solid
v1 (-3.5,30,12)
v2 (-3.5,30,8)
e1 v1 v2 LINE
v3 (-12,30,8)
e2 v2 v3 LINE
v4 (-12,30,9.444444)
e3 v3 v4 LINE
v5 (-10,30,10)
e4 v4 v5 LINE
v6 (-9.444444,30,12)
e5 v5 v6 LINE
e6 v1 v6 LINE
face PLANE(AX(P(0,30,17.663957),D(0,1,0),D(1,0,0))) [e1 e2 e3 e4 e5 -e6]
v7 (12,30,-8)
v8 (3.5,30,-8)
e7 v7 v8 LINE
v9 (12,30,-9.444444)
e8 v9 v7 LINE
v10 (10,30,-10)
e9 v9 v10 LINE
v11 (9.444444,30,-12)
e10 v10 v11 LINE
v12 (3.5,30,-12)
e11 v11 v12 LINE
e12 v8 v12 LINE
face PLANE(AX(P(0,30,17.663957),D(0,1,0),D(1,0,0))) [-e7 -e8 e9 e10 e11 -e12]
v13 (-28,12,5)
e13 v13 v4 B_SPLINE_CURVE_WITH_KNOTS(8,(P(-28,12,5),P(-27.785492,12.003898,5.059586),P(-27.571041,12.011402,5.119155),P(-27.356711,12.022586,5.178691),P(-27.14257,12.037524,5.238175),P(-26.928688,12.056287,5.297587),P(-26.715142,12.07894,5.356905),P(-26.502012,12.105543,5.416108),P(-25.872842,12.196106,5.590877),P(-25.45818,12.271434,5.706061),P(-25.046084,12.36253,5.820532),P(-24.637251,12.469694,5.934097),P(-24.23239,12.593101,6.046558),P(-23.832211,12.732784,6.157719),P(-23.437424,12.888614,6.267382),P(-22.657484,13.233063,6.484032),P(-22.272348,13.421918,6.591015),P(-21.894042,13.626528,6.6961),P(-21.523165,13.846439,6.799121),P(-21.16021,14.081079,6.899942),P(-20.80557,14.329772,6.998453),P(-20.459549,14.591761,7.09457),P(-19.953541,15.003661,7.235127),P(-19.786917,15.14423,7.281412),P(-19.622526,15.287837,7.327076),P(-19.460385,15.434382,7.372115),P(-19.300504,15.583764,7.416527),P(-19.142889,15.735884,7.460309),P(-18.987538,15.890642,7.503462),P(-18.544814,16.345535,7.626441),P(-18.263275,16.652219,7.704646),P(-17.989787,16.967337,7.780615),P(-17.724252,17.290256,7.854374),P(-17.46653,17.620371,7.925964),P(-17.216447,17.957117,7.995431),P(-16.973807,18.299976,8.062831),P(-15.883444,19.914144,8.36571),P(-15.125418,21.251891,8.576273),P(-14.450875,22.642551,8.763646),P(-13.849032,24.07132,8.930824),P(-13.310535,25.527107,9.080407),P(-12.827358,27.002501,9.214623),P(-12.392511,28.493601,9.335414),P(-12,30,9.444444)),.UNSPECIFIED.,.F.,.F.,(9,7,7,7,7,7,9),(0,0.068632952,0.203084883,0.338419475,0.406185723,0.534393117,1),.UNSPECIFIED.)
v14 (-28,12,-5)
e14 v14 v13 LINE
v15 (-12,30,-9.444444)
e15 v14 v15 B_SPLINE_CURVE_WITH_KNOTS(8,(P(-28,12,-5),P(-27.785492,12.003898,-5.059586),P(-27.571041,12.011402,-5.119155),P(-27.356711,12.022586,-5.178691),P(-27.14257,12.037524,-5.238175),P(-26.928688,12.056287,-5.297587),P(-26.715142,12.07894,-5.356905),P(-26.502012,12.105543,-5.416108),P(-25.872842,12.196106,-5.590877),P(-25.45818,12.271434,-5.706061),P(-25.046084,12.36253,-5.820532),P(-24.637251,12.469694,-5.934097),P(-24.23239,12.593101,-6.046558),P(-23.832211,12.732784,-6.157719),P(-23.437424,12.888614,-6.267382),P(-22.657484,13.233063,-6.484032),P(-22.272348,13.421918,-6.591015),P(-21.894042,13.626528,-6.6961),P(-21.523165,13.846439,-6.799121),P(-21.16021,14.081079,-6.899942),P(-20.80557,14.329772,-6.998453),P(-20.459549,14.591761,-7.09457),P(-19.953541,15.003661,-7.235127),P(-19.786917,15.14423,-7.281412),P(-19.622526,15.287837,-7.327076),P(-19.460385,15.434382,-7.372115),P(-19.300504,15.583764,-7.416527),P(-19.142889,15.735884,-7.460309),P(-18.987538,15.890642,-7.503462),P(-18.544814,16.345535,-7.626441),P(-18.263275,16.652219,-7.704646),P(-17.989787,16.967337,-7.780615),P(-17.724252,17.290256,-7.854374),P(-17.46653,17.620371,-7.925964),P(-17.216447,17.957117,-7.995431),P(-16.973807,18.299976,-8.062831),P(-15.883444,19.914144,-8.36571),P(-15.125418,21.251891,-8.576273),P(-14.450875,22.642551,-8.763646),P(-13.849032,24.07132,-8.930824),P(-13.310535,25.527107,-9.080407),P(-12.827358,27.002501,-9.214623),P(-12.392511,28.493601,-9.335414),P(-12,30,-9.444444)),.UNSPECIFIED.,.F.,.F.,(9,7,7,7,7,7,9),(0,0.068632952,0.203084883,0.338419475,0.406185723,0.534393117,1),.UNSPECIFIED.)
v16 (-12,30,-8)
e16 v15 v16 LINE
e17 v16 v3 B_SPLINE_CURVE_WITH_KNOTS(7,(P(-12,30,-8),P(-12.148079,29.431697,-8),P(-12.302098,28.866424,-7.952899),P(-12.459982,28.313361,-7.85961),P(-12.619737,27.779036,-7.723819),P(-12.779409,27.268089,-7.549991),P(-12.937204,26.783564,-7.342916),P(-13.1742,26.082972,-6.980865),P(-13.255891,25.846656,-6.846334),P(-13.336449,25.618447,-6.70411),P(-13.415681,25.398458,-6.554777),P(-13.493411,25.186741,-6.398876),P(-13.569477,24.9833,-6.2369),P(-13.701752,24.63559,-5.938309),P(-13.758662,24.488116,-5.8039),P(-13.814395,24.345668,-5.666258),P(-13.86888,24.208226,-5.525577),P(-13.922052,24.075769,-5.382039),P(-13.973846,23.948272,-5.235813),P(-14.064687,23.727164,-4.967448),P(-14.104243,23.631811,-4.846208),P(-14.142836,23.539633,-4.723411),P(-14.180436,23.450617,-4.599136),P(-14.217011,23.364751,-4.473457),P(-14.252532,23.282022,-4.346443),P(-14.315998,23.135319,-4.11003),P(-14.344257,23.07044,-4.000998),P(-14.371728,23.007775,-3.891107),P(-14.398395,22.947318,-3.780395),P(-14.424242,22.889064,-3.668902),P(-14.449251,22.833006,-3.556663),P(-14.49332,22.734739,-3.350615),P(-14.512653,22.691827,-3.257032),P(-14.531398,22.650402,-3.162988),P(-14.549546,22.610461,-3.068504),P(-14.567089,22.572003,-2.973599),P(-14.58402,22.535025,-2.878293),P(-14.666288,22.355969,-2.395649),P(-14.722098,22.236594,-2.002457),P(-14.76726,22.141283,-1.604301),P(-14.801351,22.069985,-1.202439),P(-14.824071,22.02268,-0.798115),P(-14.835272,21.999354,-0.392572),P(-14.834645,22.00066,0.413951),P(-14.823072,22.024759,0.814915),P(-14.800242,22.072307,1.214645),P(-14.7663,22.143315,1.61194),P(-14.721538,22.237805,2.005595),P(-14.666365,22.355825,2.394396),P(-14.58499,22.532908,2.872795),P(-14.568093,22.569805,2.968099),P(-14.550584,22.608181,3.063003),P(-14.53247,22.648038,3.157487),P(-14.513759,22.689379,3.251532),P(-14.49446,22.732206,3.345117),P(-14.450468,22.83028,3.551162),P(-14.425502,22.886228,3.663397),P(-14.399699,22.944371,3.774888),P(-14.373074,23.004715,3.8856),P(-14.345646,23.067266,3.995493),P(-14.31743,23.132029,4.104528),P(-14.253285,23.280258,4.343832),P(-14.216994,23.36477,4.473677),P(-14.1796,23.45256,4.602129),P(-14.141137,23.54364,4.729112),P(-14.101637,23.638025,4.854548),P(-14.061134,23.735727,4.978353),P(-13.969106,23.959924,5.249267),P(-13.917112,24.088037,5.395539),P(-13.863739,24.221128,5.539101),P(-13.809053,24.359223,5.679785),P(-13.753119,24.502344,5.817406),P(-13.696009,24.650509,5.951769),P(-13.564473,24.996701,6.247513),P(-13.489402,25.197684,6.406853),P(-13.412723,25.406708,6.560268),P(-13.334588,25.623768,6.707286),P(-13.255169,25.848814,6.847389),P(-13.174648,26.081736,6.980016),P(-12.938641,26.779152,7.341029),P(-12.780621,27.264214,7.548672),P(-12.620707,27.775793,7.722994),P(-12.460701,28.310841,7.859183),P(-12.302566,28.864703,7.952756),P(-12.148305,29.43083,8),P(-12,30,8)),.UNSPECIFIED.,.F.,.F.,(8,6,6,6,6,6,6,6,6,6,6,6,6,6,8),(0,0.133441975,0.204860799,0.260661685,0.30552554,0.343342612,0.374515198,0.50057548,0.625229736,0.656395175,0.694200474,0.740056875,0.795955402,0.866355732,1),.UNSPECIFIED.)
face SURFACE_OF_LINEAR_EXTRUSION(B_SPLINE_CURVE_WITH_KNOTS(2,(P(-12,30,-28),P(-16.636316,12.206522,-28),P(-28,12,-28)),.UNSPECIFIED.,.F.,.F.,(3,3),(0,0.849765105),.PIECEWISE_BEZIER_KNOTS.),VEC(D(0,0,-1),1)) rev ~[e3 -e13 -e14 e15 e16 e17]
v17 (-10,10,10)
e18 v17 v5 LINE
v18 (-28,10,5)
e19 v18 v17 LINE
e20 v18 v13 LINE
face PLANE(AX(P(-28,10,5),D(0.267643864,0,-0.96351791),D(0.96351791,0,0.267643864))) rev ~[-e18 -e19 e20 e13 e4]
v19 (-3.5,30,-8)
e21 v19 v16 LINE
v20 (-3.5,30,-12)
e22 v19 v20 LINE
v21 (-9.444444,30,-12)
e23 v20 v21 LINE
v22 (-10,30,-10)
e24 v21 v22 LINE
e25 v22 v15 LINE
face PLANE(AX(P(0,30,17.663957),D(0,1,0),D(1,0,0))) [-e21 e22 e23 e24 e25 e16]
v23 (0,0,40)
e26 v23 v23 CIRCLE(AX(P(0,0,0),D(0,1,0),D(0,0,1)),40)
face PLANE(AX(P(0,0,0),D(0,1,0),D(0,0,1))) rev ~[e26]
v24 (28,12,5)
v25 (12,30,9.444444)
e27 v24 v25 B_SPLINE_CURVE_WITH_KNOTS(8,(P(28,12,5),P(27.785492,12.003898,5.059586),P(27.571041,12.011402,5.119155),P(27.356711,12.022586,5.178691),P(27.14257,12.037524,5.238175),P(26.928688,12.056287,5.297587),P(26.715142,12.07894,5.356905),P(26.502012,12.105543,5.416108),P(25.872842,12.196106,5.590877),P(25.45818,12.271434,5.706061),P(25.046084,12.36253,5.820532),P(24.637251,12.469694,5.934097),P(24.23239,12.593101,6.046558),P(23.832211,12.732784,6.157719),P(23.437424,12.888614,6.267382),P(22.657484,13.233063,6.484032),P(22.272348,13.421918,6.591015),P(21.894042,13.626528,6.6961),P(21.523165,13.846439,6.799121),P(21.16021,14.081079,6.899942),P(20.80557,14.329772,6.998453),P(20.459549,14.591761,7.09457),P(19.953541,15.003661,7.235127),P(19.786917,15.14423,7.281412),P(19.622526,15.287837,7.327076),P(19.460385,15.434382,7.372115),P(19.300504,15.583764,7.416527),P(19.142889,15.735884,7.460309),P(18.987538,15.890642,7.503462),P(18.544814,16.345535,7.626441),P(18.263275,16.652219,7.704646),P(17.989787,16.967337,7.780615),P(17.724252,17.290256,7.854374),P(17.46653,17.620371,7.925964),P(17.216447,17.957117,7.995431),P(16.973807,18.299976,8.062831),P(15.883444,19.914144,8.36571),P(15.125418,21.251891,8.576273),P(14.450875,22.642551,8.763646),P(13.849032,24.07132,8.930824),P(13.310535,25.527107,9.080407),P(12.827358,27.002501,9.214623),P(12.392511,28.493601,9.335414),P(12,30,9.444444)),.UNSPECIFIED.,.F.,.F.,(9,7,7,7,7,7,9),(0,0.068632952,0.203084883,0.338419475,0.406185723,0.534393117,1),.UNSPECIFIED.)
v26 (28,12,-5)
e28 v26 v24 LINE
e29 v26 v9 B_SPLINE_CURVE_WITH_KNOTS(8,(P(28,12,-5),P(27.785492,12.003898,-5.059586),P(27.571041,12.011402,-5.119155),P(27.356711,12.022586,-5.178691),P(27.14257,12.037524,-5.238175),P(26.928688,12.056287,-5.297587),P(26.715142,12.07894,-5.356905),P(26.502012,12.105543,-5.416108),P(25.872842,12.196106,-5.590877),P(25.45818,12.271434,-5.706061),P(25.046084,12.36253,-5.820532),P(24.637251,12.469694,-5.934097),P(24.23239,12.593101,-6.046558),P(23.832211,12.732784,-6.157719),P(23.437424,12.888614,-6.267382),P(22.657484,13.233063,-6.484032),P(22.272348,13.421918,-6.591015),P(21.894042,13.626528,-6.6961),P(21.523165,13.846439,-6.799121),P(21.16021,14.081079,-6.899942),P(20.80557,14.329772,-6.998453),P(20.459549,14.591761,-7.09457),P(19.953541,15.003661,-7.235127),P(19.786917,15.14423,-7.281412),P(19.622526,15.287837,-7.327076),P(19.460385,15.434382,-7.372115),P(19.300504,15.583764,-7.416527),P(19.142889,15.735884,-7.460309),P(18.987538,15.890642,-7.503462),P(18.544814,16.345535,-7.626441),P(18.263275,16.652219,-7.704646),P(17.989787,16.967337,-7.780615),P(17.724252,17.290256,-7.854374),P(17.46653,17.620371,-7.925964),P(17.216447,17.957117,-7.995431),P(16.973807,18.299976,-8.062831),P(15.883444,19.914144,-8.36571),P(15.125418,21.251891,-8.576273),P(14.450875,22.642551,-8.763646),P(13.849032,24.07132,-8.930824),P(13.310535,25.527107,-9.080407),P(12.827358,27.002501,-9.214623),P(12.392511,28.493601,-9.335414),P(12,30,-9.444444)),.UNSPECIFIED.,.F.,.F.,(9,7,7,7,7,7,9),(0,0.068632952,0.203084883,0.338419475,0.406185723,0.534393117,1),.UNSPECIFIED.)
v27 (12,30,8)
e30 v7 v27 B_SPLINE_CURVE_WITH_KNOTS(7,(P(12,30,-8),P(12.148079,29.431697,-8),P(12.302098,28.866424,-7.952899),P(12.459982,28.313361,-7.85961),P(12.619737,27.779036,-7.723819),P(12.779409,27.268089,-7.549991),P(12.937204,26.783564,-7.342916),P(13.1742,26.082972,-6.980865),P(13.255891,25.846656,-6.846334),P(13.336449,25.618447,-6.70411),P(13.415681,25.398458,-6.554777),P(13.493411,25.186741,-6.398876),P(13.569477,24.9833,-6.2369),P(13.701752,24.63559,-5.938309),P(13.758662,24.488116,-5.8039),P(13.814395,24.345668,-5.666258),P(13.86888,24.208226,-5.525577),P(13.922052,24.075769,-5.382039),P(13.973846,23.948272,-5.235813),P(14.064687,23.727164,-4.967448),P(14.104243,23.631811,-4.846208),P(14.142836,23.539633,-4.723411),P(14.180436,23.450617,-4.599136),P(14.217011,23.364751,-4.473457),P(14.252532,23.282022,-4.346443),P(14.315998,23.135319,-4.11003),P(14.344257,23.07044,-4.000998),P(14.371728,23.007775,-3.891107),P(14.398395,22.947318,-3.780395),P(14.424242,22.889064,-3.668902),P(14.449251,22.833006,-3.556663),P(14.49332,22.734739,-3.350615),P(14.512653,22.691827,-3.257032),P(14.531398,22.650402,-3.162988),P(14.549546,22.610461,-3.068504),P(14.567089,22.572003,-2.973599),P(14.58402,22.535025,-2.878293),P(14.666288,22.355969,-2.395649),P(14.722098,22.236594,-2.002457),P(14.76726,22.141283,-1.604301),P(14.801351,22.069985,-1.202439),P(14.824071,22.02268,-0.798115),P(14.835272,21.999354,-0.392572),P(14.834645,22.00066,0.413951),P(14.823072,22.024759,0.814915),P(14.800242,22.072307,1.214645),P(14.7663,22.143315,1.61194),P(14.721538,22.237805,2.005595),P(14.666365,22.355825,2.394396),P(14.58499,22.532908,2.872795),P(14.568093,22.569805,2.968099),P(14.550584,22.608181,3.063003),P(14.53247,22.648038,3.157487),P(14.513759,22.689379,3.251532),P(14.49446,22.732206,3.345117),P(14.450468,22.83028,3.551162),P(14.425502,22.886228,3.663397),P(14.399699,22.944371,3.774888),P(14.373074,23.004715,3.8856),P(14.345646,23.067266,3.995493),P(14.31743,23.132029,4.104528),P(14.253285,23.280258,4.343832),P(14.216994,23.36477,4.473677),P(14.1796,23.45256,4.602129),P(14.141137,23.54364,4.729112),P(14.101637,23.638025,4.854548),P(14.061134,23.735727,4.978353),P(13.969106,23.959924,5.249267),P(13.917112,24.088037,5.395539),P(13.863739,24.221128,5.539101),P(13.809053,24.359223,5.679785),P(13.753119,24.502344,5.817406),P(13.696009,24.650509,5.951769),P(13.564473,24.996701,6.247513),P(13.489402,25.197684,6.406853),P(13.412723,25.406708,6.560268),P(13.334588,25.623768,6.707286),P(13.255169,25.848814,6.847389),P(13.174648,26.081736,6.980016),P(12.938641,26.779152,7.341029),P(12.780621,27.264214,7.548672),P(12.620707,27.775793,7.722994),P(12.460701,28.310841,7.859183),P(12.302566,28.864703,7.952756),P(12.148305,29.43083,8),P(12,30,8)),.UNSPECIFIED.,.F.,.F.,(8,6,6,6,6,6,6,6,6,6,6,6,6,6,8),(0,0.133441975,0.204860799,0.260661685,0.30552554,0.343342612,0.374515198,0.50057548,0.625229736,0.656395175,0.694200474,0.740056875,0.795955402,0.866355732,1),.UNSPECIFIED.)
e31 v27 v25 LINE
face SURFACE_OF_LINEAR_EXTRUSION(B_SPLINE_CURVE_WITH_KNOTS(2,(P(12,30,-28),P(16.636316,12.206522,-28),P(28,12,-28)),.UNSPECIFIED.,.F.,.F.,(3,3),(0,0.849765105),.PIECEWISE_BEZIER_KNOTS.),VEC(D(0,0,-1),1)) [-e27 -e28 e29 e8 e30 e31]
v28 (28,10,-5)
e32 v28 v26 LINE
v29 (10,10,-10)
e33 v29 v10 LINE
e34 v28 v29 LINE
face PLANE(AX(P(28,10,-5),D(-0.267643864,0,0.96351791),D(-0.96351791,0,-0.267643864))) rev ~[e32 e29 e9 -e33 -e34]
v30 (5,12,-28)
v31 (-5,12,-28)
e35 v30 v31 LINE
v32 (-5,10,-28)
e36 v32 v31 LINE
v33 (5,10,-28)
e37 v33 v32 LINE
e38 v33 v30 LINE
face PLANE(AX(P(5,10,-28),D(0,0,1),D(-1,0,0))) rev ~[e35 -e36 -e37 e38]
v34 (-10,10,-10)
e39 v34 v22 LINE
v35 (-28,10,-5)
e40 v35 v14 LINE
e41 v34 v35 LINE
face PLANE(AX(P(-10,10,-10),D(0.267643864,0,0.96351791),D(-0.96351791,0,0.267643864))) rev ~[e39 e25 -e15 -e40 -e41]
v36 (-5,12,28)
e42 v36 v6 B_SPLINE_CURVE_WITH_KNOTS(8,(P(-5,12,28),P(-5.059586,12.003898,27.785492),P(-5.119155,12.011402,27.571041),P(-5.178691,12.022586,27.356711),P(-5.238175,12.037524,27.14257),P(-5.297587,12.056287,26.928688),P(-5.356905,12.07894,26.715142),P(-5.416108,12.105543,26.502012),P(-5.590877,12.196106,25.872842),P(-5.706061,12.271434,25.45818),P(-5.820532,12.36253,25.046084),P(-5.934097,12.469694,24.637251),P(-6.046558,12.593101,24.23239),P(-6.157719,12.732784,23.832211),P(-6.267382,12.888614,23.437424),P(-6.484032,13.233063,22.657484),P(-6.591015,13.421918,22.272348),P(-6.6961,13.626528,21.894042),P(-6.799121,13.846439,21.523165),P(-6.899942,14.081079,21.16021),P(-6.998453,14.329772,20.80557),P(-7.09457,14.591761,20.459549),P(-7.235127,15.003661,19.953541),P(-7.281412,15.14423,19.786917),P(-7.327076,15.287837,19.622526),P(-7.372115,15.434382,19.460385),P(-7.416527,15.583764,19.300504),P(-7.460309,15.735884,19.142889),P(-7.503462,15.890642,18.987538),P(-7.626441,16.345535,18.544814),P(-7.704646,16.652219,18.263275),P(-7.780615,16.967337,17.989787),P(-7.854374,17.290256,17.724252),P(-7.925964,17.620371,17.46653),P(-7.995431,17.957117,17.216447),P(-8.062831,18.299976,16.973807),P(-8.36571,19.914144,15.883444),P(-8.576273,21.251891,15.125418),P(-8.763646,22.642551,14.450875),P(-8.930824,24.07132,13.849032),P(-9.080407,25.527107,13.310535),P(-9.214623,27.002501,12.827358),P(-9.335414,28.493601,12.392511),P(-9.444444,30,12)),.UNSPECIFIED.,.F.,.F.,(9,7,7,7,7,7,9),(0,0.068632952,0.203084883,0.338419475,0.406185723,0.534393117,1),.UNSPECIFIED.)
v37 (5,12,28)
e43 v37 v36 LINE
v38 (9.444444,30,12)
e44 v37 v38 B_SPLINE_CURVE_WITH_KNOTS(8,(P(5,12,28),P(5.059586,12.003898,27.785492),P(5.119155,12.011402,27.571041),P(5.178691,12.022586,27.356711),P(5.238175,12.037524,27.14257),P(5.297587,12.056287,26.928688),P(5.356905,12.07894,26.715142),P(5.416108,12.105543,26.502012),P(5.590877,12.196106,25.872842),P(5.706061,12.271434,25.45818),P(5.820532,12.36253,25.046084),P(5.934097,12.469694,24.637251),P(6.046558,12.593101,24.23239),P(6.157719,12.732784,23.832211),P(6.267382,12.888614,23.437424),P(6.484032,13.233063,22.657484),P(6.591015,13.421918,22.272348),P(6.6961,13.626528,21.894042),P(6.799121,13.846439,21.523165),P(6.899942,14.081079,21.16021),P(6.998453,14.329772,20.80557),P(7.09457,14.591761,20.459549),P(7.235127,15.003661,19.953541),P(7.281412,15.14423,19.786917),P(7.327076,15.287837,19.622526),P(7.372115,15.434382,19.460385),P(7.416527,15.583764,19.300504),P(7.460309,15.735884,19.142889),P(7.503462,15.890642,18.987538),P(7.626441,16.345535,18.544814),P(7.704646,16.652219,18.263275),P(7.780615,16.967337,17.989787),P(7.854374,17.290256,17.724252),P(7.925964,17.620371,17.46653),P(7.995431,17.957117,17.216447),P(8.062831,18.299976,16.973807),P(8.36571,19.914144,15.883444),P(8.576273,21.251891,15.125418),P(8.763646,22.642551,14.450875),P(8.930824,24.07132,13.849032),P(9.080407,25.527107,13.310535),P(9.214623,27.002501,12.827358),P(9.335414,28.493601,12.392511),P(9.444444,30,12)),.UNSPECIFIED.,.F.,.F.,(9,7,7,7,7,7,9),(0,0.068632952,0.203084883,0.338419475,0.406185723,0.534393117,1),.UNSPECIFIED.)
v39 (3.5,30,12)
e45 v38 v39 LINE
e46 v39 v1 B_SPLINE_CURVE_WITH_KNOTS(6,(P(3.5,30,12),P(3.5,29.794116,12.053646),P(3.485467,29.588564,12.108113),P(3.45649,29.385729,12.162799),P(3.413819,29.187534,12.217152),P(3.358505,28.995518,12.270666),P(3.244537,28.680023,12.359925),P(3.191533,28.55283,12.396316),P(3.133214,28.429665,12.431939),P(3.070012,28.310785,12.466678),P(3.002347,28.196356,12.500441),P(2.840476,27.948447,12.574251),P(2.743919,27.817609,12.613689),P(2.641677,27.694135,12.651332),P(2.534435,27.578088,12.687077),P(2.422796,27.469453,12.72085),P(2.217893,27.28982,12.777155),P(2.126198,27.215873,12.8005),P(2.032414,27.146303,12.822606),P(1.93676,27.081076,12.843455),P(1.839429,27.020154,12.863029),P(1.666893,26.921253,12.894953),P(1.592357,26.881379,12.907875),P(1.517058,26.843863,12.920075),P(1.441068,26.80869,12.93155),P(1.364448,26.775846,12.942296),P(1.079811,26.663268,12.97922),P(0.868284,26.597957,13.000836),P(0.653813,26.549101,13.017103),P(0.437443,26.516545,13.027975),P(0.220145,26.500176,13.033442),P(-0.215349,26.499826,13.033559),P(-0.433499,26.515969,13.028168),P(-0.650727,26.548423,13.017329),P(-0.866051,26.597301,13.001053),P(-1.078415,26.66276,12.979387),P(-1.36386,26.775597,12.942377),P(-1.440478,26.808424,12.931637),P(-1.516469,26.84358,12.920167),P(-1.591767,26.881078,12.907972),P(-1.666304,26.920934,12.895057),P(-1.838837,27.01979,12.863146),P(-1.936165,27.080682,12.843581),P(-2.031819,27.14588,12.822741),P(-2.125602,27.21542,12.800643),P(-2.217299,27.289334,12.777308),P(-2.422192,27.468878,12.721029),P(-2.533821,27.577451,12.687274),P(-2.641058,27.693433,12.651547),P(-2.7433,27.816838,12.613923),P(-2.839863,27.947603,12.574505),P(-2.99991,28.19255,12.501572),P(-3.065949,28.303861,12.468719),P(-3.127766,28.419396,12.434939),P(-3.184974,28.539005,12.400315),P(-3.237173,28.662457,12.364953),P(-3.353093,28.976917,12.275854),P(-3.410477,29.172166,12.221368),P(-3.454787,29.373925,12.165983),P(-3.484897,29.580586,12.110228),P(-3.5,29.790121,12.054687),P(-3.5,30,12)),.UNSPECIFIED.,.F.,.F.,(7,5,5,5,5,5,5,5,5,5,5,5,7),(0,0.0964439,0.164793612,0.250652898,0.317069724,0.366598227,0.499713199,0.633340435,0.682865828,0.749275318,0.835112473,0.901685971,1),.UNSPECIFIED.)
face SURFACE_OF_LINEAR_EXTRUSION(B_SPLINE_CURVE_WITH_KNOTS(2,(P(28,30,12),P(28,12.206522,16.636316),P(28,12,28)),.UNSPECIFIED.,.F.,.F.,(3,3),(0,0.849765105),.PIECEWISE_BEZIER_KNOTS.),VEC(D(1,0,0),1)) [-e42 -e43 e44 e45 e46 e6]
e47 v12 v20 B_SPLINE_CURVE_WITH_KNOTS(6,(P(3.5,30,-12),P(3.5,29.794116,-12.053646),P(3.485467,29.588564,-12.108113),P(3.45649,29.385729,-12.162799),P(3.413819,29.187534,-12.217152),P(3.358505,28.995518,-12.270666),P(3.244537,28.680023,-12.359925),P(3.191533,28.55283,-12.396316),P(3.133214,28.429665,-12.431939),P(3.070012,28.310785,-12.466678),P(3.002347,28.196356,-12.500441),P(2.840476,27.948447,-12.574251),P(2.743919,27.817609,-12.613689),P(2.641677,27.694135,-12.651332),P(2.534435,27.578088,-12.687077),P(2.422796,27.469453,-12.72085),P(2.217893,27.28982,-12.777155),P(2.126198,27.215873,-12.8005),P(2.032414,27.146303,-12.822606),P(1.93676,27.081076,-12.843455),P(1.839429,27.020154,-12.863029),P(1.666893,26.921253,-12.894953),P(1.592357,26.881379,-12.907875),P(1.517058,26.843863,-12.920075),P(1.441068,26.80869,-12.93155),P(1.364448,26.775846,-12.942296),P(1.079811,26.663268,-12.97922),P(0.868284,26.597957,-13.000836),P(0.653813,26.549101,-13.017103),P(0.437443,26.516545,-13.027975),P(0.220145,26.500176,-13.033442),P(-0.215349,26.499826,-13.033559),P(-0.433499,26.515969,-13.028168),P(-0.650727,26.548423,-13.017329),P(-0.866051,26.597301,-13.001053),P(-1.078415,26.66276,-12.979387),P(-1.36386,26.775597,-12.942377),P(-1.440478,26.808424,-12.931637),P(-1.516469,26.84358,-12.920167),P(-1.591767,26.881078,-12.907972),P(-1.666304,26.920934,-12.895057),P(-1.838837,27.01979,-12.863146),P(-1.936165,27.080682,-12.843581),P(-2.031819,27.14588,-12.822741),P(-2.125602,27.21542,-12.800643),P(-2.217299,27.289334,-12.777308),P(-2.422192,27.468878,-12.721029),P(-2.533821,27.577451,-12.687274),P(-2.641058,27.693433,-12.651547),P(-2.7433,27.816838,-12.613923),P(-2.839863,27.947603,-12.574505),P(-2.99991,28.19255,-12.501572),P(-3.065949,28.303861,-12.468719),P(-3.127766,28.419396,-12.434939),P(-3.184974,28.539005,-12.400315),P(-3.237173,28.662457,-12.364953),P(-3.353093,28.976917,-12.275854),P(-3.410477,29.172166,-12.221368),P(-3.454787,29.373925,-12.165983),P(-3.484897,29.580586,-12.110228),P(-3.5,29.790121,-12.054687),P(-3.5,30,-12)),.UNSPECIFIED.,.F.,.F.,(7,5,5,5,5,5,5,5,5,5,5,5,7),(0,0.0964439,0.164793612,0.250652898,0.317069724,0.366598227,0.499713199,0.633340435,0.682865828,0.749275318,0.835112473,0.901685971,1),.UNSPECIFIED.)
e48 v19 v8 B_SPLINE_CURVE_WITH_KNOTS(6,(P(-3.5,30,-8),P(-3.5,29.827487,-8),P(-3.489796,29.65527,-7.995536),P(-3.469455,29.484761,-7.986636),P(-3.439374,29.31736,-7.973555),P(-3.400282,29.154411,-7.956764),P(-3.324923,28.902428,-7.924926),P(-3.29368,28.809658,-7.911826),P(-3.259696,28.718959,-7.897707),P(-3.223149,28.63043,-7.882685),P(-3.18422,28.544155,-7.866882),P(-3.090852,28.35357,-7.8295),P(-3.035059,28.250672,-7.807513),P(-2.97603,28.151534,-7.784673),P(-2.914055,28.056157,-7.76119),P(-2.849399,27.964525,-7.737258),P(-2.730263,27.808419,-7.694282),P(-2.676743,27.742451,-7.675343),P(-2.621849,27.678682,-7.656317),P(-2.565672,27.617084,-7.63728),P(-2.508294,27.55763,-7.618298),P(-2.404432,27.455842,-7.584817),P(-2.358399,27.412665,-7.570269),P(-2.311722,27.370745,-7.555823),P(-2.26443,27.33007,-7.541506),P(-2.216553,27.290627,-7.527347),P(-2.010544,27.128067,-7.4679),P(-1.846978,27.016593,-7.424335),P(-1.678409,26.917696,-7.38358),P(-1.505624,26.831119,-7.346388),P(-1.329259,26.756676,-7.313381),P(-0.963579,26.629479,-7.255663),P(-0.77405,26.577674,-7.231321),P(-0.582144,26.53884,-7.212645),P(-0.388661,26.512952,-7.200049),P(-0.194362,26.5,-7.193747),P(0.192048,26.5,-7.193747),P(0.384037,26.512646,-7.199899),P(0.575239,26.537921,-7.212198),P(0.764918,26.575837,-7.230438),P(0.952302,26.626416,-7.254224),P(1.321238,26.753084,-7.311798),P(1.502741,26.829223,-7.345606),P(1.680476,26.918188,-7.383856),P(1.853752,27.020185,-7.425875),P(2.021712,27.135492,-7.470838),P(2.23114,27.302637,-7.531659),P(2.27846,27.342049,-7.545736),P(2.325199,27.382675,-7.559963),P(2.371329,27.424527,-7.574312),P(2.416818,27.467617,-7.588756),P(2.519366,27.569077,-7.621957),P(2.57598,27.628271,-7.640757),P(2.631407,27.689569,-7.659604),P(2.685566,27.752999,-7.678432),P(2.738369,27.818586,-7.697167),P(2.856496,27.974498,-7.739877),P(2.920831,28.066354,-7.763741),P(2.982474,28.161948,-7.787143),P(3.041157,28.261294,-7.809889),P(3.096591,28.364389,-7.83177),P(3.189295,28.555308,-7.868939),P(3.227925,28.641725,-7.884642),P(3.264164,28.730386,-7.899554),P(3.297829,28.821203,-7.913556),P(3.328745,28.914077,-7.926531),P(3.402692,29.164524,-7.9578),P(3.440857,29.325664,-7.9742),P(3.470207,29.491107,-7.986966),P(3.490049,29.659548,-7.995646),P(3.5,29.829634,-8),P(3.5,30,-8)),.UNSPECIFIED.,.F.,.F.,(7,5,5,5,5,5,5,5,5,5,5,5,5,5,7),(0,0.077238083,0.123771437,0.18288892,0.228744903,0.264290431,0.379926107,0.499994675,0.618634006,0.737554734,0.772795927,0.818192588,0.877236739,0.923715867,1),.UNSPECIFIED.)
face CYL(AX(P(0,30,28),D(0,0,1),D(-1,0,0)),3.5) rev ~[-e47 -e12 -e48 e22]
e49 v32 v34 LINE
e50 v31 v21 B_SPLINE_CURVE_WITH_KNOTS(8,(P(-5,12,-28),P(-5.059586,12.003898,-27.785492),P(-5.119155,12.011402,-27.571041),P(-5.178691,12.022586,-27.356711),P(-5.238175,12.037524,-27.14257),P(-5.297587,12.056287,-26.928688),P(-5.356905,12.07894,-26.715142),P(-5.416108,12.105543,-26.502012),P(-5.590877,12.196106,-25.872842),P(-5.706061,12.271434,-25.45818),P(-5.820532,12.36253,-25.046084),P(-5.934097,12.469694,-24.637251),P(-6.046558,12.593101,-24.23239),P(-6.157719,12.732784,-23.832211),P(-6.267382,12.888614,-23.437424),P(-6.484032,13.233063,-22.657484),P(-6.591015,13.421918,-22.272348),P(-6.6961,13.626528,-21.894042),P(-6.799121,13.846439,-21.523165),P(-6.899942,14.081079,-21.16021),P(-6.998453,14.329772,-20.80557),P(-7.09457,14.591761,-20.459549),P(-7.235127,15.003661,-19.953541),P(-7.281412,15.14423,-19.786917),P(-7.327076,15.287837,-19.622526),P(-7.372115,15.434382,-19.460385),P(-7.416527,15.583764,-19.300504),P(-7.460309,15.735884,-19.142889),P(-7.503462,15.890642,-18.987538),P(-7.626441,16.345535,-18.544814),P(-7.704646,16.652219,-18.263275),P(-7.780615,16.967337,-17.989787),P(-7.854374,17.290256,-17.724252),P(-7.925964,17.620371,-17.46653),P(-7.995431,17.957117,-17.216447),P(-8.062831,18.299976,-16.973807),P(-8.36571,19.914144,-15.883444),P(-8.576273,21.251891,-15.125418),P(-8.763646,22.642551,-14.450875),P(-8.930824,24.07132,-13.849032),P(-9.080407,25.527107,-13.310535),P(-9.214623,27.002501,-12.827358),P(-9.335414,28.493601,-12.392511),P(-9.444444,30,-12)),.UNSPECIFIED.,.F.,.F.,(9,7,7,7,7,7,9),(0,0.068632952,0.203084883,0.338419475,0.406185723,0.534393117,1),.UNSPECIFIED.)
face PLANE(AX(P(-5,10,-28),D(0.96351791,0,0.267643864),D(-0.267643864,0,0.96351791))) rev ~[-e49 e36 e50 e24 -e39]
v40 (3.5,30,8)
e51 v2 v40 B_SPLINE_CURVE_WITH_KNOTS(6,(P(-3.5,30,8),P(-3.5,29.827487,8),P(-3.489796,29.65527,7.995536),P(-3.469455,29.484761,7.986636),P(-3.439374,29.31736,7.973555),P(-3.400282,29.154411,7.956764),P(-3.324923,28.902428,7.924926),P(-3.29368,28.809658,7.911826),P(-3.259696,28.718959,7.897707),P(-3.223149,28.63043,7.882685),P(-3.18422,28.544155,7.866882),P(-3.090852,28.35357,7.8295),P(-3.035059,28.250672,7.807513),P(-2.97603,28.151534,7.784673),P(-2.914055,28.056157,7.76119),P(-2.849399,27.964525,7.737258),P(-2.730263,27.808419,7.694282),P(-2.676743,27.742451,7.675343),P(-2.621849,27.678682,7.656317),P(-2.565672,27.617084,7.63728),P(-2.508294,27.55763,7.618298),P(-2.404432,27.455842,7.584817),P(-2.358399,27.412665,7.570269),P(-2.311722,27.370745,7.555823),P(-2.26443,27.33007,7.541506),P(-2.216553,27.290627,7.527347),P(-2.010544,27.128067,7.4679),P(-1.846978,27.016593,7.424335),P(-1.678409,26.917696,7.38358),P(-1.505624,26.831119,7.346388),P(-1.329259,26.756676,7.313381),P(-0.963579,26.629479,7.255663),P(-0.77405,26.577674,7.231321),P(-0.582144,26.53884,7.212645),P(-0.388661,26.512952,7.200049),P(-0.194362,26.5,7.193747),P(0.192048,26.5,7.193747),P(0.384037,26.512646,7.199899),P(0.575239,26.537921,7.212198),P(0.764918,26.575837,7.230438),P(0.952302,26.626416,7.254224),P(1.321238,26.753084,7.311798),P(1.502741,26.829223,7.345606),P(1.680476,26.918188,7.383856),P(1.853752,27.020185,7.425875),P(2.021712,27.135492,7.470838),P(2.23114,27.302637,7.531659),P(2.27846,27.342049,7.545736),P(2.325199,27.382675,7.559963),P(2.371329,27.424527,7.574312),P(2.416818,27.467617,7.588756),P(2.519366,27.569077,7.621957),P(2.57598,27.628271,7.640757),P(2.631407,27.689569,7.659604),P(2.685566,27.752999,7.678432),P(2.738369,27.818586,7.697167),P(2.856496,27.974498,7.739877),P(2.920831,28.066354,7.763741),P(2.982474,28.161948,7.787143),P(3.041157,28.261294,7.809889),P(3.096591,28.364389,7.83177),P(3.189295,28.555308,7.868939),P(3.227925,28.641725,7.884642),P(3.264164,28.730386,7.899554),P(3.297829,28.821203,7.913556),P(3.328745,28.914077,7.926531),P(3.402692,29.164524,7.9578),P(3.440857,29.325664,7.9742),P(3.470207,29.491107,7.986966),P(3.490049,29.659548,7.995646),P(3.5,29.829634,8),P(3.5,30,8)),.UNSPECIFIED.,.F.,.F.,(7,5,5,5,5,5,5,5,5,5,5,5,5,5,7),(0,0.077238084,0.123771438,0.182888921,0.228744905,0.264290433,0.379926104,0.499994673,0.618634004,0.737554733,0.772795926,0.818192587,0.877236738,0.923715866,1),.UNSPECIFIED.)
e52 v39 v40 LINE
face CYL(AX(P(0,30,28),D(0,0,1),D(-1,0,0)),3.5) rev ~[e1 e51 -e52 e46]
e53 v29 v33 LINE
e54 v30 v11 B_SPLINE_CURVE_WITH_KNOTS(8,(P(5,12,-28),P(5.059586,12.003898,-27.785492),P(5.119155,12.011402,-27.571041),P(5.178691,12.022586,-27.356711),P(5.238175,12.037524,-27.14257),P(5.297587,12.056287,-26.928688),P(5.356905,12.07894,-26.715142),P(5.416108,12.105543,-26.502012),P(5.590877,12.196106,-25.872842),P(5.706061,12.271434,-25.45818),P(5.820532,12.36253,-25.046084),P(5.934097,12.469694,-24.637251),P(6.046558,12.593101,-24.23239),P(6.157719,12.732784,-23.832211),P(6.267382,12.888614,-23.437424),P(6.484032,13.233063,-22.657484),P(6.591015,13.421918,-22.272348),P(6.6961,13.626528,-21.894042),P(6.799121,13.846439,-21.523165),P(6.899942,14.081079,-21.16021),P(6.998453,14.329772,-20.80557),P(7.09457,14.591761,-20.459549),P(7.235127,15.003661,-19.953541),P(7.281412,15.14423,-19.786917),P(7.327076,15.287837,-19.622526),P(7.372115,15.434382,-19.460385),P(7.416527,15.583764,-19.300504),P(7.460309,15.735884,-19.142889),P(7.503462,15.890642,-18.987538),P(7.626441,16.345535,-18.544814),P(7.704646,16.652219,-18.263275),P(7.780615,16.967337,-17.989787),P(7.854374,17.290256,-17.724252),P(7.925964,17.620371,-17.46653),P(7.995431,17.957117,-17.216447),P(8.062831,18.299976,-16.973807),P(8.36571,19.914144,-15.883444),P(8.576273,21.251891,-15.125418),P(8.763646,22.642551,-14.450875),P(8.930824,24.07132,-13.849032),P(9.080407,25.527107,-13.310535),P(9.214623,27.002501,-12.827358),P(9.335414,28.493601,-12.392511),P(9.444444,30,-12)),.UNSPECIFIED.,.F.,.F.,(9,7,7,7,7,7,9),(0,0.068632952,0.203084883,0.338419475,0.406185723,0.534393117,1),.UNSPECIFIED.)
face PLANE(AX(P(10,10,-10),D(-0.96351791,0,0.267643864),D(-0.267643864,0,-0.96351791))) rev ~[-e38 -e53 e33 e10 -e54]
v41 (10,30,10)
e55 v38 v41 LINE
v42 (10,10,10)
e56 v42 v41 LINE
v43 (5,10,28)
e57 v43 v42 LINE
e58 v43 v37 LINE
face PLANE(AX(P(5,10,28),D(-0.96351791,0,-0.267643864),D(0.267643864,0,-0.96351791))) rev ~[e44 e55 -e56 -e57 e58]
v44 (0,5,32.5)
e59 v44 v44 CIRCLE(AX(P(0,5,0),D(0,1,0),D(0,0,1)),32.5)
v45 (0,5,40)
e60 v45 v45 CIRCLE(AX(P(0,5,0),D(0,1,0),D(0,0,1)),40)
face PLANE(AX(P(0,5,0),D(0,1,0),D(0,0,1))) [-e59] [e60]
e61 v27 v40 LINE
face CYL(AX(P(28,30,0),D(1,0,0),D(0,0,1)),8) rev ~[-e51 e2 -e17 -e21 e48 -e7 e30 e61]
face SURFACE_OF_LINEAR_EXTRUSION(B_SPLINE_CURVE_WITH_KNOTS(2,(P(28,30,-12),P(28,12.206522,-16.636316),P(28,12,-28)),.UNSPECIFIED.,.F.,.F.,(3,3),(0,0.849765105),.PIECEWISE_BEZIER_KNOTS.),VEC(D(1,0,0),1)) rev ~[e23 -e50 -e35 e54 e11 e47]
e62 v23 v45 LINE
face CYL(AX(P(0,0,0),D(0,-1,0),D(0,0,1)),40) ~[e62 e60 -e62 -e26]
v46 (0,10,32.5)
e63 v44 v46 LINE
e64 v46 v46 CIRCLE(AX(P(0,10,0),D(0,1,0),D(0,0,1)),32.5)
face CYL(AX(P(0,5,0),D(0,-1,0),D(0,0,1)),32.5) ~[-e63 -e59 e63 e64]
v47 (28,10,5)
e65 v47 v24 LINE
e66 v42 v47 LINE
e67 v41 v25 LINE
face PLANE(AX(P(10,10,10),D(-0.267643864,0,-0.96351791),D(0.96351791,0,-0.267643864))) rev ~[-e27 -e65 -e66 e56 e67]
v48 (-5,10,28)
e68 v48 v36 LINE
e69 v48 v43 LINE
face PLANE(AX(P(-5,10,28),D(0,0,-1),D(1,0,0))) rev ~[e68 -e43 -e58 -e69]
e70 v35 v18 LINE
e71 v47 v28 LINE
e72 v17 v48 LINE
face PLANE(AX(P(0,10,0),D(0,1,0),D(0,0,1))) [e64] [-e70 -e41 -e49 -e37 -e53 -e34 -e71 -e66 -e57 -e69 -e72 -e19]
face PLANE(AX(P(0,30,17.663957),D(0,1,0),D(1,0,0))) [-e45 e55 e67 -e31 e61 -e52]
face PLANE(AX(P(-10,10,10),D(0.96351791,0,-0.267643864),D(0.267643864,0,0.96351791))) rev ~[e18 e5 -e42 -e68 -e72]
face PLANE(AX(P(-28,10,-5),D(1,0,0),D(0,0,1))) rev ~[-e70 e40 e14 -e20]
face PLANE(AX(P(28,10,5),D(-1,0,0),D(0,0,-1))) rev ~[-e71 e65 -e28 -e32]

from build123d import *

# Parameters (mm, degrees)
SKETCH1_R           = 40
BOSS_EXTRUDE1_DEPTH = 5
SKETCH2_R           = 32.5
BOSS_EXTRUDE2_DEPTH = 5
BOSS_EXTRUDE3_DEPTH = 20
CUT_EXTRUDE15_DEPTH = 85.403791384
CUT_EXTRUDE16_DEPTH = 85.40379142
CUT_EXTRUDE22_DEPTH = 85.40379142
CUT_EXTRUDE23_DEPTH = 85.40379142


with BuildPart() as part:
    # Sketch1 → Boss-Extrude1 (new body)
    with BuildSketch(Plane(origin=(0, 0, 0), x_dir=(1, 0, 0), z_dir=(0, 1, 0))):
        Circle(SKETCH1_R)
    extrude(amount=BOSS_EXTRUDE1_DEPTH)

    # Sketch2 → Boss-Extrude2 (add)
    with BuildSketch(Plane(origin=(0, 5, 0), x_dir=(1, 0, 0), z_dir=(0, 1, 0))):
        Circle(SKETCH2_R)
    extrude(amount=BOSS_EXTRUDE2_DEPTH)

    # Sketch6 → Boss-Extrude3 (add)
    with BuildSketch(Plane(origin=(0, 10, 0), x_dir=(1, 0, 0), z_dir=(0, 1, 0))):
        Polygon((5, -28), (10, -10), (28, -5), (28, 5), (10, 10), (5, 28), (-5, 28), (-10, 10), (-28, 5), (-28, -5), (-10, -10), (-5, -28), align=None)
    extrude(amount=BOSS_EXTRUDE3_DEPTH)

    # Sketch12 → Cut-Extrude15 (cut, through all)
    with BuildSketch(Plane(origin=(0, 0, -28), x_dir=(-1, 0, 0), z_dir=(0, 0, -1))):
        with BuildLine():
            add(Edge.make_bspline(
                [(12, 30), (16.636316338, 12.206521784), (28, 12)],
                knots=[0, 0, 0, 0.849765105, 0.849765105, 0.849765105], degree=2))
            Line((28, 12), (28, 30))
            Line((28, 30), (12, 30))
        make_face()
        with BuildLine():
            Line((-28, 30), (-28, 12))
            add(Edge.make_bspline(
                [(-12, 30), (-16.636316338, 12.206521784), (-28, 12)],
                knots=[0, 0, 0, 0.849765105, 0.849765105, 0.849765105], degree=2))
            Line((-12, 30), (-28, 30))
        make_face()
    extrude(amount=-CUT_EXTRUDE15_DEPTH, mode=Mode.SUBTRACT)

    # Sketch13 → Cut-Extrude16 (cut, through all)
    with BuildSketch(Plane(origin=(28, 0, 0), x_dir=(0, 0, -1), z_dir=(1, 0, 0))):
        with BuildLine():
            add(Edge.make_bspline(
                [(12, 30), (16.636316338, 12.206521784), (28, 12)],
                knots=[0, 0, 0, 0.849765105, 0.849765105, 0.849765105], degree=2))
            Line((28, 12), (28, 30))
            Line((28, 30), (12, 30))
        make_face()
        with BuildLine():
            Line((-28, 30), (-28, 12))
            add(Edge.make_bspline(
                [(-12, 30), (-16.636316338, 12.206521784), (-28, 12)],
                knots=[0, 0, 0, 0.849765105, 0.849765105, 0.849765105], degree=2))
            Line((-12, 30), (-28, 30))
        make_face()
    extrude(amount=-CUT_EXTRUDE16_DEPTH, mode=Mode.SUBTRACT)

    # Sketch15 → Cut-Extrude22 (cut, through all)
    with BuildSketch(Plane.XY.offset(28)):
        with BuildLine():
            ThreePointArc((-3.5, 30), (0, 26.5), (3.5, 30))
            Line((3.5, 30), (-3.5, 30))
        make_face()
    extrude(amount=-CUT_EXTRUDE22_DEPTH, mode=Mode.SUBTRACT)

    # Sketch16 → Cut-Extrude23 (cut, through all)
    with BuildSketch(Plane(origin=(28, 0, 0), x_dir=(0, 0, -1), z_dir=(1, 0, 0))):
        with BuildLine():
            ThreePointArc((-8, 30), (0, 22), (8, 30))
            Line((8, 30), (-8, 30))
        make_face()
    extrude(amount=-CUT_EXTRUDE23_DEPTH, mode=Mode.SUBTRACT)


solid = part.part
